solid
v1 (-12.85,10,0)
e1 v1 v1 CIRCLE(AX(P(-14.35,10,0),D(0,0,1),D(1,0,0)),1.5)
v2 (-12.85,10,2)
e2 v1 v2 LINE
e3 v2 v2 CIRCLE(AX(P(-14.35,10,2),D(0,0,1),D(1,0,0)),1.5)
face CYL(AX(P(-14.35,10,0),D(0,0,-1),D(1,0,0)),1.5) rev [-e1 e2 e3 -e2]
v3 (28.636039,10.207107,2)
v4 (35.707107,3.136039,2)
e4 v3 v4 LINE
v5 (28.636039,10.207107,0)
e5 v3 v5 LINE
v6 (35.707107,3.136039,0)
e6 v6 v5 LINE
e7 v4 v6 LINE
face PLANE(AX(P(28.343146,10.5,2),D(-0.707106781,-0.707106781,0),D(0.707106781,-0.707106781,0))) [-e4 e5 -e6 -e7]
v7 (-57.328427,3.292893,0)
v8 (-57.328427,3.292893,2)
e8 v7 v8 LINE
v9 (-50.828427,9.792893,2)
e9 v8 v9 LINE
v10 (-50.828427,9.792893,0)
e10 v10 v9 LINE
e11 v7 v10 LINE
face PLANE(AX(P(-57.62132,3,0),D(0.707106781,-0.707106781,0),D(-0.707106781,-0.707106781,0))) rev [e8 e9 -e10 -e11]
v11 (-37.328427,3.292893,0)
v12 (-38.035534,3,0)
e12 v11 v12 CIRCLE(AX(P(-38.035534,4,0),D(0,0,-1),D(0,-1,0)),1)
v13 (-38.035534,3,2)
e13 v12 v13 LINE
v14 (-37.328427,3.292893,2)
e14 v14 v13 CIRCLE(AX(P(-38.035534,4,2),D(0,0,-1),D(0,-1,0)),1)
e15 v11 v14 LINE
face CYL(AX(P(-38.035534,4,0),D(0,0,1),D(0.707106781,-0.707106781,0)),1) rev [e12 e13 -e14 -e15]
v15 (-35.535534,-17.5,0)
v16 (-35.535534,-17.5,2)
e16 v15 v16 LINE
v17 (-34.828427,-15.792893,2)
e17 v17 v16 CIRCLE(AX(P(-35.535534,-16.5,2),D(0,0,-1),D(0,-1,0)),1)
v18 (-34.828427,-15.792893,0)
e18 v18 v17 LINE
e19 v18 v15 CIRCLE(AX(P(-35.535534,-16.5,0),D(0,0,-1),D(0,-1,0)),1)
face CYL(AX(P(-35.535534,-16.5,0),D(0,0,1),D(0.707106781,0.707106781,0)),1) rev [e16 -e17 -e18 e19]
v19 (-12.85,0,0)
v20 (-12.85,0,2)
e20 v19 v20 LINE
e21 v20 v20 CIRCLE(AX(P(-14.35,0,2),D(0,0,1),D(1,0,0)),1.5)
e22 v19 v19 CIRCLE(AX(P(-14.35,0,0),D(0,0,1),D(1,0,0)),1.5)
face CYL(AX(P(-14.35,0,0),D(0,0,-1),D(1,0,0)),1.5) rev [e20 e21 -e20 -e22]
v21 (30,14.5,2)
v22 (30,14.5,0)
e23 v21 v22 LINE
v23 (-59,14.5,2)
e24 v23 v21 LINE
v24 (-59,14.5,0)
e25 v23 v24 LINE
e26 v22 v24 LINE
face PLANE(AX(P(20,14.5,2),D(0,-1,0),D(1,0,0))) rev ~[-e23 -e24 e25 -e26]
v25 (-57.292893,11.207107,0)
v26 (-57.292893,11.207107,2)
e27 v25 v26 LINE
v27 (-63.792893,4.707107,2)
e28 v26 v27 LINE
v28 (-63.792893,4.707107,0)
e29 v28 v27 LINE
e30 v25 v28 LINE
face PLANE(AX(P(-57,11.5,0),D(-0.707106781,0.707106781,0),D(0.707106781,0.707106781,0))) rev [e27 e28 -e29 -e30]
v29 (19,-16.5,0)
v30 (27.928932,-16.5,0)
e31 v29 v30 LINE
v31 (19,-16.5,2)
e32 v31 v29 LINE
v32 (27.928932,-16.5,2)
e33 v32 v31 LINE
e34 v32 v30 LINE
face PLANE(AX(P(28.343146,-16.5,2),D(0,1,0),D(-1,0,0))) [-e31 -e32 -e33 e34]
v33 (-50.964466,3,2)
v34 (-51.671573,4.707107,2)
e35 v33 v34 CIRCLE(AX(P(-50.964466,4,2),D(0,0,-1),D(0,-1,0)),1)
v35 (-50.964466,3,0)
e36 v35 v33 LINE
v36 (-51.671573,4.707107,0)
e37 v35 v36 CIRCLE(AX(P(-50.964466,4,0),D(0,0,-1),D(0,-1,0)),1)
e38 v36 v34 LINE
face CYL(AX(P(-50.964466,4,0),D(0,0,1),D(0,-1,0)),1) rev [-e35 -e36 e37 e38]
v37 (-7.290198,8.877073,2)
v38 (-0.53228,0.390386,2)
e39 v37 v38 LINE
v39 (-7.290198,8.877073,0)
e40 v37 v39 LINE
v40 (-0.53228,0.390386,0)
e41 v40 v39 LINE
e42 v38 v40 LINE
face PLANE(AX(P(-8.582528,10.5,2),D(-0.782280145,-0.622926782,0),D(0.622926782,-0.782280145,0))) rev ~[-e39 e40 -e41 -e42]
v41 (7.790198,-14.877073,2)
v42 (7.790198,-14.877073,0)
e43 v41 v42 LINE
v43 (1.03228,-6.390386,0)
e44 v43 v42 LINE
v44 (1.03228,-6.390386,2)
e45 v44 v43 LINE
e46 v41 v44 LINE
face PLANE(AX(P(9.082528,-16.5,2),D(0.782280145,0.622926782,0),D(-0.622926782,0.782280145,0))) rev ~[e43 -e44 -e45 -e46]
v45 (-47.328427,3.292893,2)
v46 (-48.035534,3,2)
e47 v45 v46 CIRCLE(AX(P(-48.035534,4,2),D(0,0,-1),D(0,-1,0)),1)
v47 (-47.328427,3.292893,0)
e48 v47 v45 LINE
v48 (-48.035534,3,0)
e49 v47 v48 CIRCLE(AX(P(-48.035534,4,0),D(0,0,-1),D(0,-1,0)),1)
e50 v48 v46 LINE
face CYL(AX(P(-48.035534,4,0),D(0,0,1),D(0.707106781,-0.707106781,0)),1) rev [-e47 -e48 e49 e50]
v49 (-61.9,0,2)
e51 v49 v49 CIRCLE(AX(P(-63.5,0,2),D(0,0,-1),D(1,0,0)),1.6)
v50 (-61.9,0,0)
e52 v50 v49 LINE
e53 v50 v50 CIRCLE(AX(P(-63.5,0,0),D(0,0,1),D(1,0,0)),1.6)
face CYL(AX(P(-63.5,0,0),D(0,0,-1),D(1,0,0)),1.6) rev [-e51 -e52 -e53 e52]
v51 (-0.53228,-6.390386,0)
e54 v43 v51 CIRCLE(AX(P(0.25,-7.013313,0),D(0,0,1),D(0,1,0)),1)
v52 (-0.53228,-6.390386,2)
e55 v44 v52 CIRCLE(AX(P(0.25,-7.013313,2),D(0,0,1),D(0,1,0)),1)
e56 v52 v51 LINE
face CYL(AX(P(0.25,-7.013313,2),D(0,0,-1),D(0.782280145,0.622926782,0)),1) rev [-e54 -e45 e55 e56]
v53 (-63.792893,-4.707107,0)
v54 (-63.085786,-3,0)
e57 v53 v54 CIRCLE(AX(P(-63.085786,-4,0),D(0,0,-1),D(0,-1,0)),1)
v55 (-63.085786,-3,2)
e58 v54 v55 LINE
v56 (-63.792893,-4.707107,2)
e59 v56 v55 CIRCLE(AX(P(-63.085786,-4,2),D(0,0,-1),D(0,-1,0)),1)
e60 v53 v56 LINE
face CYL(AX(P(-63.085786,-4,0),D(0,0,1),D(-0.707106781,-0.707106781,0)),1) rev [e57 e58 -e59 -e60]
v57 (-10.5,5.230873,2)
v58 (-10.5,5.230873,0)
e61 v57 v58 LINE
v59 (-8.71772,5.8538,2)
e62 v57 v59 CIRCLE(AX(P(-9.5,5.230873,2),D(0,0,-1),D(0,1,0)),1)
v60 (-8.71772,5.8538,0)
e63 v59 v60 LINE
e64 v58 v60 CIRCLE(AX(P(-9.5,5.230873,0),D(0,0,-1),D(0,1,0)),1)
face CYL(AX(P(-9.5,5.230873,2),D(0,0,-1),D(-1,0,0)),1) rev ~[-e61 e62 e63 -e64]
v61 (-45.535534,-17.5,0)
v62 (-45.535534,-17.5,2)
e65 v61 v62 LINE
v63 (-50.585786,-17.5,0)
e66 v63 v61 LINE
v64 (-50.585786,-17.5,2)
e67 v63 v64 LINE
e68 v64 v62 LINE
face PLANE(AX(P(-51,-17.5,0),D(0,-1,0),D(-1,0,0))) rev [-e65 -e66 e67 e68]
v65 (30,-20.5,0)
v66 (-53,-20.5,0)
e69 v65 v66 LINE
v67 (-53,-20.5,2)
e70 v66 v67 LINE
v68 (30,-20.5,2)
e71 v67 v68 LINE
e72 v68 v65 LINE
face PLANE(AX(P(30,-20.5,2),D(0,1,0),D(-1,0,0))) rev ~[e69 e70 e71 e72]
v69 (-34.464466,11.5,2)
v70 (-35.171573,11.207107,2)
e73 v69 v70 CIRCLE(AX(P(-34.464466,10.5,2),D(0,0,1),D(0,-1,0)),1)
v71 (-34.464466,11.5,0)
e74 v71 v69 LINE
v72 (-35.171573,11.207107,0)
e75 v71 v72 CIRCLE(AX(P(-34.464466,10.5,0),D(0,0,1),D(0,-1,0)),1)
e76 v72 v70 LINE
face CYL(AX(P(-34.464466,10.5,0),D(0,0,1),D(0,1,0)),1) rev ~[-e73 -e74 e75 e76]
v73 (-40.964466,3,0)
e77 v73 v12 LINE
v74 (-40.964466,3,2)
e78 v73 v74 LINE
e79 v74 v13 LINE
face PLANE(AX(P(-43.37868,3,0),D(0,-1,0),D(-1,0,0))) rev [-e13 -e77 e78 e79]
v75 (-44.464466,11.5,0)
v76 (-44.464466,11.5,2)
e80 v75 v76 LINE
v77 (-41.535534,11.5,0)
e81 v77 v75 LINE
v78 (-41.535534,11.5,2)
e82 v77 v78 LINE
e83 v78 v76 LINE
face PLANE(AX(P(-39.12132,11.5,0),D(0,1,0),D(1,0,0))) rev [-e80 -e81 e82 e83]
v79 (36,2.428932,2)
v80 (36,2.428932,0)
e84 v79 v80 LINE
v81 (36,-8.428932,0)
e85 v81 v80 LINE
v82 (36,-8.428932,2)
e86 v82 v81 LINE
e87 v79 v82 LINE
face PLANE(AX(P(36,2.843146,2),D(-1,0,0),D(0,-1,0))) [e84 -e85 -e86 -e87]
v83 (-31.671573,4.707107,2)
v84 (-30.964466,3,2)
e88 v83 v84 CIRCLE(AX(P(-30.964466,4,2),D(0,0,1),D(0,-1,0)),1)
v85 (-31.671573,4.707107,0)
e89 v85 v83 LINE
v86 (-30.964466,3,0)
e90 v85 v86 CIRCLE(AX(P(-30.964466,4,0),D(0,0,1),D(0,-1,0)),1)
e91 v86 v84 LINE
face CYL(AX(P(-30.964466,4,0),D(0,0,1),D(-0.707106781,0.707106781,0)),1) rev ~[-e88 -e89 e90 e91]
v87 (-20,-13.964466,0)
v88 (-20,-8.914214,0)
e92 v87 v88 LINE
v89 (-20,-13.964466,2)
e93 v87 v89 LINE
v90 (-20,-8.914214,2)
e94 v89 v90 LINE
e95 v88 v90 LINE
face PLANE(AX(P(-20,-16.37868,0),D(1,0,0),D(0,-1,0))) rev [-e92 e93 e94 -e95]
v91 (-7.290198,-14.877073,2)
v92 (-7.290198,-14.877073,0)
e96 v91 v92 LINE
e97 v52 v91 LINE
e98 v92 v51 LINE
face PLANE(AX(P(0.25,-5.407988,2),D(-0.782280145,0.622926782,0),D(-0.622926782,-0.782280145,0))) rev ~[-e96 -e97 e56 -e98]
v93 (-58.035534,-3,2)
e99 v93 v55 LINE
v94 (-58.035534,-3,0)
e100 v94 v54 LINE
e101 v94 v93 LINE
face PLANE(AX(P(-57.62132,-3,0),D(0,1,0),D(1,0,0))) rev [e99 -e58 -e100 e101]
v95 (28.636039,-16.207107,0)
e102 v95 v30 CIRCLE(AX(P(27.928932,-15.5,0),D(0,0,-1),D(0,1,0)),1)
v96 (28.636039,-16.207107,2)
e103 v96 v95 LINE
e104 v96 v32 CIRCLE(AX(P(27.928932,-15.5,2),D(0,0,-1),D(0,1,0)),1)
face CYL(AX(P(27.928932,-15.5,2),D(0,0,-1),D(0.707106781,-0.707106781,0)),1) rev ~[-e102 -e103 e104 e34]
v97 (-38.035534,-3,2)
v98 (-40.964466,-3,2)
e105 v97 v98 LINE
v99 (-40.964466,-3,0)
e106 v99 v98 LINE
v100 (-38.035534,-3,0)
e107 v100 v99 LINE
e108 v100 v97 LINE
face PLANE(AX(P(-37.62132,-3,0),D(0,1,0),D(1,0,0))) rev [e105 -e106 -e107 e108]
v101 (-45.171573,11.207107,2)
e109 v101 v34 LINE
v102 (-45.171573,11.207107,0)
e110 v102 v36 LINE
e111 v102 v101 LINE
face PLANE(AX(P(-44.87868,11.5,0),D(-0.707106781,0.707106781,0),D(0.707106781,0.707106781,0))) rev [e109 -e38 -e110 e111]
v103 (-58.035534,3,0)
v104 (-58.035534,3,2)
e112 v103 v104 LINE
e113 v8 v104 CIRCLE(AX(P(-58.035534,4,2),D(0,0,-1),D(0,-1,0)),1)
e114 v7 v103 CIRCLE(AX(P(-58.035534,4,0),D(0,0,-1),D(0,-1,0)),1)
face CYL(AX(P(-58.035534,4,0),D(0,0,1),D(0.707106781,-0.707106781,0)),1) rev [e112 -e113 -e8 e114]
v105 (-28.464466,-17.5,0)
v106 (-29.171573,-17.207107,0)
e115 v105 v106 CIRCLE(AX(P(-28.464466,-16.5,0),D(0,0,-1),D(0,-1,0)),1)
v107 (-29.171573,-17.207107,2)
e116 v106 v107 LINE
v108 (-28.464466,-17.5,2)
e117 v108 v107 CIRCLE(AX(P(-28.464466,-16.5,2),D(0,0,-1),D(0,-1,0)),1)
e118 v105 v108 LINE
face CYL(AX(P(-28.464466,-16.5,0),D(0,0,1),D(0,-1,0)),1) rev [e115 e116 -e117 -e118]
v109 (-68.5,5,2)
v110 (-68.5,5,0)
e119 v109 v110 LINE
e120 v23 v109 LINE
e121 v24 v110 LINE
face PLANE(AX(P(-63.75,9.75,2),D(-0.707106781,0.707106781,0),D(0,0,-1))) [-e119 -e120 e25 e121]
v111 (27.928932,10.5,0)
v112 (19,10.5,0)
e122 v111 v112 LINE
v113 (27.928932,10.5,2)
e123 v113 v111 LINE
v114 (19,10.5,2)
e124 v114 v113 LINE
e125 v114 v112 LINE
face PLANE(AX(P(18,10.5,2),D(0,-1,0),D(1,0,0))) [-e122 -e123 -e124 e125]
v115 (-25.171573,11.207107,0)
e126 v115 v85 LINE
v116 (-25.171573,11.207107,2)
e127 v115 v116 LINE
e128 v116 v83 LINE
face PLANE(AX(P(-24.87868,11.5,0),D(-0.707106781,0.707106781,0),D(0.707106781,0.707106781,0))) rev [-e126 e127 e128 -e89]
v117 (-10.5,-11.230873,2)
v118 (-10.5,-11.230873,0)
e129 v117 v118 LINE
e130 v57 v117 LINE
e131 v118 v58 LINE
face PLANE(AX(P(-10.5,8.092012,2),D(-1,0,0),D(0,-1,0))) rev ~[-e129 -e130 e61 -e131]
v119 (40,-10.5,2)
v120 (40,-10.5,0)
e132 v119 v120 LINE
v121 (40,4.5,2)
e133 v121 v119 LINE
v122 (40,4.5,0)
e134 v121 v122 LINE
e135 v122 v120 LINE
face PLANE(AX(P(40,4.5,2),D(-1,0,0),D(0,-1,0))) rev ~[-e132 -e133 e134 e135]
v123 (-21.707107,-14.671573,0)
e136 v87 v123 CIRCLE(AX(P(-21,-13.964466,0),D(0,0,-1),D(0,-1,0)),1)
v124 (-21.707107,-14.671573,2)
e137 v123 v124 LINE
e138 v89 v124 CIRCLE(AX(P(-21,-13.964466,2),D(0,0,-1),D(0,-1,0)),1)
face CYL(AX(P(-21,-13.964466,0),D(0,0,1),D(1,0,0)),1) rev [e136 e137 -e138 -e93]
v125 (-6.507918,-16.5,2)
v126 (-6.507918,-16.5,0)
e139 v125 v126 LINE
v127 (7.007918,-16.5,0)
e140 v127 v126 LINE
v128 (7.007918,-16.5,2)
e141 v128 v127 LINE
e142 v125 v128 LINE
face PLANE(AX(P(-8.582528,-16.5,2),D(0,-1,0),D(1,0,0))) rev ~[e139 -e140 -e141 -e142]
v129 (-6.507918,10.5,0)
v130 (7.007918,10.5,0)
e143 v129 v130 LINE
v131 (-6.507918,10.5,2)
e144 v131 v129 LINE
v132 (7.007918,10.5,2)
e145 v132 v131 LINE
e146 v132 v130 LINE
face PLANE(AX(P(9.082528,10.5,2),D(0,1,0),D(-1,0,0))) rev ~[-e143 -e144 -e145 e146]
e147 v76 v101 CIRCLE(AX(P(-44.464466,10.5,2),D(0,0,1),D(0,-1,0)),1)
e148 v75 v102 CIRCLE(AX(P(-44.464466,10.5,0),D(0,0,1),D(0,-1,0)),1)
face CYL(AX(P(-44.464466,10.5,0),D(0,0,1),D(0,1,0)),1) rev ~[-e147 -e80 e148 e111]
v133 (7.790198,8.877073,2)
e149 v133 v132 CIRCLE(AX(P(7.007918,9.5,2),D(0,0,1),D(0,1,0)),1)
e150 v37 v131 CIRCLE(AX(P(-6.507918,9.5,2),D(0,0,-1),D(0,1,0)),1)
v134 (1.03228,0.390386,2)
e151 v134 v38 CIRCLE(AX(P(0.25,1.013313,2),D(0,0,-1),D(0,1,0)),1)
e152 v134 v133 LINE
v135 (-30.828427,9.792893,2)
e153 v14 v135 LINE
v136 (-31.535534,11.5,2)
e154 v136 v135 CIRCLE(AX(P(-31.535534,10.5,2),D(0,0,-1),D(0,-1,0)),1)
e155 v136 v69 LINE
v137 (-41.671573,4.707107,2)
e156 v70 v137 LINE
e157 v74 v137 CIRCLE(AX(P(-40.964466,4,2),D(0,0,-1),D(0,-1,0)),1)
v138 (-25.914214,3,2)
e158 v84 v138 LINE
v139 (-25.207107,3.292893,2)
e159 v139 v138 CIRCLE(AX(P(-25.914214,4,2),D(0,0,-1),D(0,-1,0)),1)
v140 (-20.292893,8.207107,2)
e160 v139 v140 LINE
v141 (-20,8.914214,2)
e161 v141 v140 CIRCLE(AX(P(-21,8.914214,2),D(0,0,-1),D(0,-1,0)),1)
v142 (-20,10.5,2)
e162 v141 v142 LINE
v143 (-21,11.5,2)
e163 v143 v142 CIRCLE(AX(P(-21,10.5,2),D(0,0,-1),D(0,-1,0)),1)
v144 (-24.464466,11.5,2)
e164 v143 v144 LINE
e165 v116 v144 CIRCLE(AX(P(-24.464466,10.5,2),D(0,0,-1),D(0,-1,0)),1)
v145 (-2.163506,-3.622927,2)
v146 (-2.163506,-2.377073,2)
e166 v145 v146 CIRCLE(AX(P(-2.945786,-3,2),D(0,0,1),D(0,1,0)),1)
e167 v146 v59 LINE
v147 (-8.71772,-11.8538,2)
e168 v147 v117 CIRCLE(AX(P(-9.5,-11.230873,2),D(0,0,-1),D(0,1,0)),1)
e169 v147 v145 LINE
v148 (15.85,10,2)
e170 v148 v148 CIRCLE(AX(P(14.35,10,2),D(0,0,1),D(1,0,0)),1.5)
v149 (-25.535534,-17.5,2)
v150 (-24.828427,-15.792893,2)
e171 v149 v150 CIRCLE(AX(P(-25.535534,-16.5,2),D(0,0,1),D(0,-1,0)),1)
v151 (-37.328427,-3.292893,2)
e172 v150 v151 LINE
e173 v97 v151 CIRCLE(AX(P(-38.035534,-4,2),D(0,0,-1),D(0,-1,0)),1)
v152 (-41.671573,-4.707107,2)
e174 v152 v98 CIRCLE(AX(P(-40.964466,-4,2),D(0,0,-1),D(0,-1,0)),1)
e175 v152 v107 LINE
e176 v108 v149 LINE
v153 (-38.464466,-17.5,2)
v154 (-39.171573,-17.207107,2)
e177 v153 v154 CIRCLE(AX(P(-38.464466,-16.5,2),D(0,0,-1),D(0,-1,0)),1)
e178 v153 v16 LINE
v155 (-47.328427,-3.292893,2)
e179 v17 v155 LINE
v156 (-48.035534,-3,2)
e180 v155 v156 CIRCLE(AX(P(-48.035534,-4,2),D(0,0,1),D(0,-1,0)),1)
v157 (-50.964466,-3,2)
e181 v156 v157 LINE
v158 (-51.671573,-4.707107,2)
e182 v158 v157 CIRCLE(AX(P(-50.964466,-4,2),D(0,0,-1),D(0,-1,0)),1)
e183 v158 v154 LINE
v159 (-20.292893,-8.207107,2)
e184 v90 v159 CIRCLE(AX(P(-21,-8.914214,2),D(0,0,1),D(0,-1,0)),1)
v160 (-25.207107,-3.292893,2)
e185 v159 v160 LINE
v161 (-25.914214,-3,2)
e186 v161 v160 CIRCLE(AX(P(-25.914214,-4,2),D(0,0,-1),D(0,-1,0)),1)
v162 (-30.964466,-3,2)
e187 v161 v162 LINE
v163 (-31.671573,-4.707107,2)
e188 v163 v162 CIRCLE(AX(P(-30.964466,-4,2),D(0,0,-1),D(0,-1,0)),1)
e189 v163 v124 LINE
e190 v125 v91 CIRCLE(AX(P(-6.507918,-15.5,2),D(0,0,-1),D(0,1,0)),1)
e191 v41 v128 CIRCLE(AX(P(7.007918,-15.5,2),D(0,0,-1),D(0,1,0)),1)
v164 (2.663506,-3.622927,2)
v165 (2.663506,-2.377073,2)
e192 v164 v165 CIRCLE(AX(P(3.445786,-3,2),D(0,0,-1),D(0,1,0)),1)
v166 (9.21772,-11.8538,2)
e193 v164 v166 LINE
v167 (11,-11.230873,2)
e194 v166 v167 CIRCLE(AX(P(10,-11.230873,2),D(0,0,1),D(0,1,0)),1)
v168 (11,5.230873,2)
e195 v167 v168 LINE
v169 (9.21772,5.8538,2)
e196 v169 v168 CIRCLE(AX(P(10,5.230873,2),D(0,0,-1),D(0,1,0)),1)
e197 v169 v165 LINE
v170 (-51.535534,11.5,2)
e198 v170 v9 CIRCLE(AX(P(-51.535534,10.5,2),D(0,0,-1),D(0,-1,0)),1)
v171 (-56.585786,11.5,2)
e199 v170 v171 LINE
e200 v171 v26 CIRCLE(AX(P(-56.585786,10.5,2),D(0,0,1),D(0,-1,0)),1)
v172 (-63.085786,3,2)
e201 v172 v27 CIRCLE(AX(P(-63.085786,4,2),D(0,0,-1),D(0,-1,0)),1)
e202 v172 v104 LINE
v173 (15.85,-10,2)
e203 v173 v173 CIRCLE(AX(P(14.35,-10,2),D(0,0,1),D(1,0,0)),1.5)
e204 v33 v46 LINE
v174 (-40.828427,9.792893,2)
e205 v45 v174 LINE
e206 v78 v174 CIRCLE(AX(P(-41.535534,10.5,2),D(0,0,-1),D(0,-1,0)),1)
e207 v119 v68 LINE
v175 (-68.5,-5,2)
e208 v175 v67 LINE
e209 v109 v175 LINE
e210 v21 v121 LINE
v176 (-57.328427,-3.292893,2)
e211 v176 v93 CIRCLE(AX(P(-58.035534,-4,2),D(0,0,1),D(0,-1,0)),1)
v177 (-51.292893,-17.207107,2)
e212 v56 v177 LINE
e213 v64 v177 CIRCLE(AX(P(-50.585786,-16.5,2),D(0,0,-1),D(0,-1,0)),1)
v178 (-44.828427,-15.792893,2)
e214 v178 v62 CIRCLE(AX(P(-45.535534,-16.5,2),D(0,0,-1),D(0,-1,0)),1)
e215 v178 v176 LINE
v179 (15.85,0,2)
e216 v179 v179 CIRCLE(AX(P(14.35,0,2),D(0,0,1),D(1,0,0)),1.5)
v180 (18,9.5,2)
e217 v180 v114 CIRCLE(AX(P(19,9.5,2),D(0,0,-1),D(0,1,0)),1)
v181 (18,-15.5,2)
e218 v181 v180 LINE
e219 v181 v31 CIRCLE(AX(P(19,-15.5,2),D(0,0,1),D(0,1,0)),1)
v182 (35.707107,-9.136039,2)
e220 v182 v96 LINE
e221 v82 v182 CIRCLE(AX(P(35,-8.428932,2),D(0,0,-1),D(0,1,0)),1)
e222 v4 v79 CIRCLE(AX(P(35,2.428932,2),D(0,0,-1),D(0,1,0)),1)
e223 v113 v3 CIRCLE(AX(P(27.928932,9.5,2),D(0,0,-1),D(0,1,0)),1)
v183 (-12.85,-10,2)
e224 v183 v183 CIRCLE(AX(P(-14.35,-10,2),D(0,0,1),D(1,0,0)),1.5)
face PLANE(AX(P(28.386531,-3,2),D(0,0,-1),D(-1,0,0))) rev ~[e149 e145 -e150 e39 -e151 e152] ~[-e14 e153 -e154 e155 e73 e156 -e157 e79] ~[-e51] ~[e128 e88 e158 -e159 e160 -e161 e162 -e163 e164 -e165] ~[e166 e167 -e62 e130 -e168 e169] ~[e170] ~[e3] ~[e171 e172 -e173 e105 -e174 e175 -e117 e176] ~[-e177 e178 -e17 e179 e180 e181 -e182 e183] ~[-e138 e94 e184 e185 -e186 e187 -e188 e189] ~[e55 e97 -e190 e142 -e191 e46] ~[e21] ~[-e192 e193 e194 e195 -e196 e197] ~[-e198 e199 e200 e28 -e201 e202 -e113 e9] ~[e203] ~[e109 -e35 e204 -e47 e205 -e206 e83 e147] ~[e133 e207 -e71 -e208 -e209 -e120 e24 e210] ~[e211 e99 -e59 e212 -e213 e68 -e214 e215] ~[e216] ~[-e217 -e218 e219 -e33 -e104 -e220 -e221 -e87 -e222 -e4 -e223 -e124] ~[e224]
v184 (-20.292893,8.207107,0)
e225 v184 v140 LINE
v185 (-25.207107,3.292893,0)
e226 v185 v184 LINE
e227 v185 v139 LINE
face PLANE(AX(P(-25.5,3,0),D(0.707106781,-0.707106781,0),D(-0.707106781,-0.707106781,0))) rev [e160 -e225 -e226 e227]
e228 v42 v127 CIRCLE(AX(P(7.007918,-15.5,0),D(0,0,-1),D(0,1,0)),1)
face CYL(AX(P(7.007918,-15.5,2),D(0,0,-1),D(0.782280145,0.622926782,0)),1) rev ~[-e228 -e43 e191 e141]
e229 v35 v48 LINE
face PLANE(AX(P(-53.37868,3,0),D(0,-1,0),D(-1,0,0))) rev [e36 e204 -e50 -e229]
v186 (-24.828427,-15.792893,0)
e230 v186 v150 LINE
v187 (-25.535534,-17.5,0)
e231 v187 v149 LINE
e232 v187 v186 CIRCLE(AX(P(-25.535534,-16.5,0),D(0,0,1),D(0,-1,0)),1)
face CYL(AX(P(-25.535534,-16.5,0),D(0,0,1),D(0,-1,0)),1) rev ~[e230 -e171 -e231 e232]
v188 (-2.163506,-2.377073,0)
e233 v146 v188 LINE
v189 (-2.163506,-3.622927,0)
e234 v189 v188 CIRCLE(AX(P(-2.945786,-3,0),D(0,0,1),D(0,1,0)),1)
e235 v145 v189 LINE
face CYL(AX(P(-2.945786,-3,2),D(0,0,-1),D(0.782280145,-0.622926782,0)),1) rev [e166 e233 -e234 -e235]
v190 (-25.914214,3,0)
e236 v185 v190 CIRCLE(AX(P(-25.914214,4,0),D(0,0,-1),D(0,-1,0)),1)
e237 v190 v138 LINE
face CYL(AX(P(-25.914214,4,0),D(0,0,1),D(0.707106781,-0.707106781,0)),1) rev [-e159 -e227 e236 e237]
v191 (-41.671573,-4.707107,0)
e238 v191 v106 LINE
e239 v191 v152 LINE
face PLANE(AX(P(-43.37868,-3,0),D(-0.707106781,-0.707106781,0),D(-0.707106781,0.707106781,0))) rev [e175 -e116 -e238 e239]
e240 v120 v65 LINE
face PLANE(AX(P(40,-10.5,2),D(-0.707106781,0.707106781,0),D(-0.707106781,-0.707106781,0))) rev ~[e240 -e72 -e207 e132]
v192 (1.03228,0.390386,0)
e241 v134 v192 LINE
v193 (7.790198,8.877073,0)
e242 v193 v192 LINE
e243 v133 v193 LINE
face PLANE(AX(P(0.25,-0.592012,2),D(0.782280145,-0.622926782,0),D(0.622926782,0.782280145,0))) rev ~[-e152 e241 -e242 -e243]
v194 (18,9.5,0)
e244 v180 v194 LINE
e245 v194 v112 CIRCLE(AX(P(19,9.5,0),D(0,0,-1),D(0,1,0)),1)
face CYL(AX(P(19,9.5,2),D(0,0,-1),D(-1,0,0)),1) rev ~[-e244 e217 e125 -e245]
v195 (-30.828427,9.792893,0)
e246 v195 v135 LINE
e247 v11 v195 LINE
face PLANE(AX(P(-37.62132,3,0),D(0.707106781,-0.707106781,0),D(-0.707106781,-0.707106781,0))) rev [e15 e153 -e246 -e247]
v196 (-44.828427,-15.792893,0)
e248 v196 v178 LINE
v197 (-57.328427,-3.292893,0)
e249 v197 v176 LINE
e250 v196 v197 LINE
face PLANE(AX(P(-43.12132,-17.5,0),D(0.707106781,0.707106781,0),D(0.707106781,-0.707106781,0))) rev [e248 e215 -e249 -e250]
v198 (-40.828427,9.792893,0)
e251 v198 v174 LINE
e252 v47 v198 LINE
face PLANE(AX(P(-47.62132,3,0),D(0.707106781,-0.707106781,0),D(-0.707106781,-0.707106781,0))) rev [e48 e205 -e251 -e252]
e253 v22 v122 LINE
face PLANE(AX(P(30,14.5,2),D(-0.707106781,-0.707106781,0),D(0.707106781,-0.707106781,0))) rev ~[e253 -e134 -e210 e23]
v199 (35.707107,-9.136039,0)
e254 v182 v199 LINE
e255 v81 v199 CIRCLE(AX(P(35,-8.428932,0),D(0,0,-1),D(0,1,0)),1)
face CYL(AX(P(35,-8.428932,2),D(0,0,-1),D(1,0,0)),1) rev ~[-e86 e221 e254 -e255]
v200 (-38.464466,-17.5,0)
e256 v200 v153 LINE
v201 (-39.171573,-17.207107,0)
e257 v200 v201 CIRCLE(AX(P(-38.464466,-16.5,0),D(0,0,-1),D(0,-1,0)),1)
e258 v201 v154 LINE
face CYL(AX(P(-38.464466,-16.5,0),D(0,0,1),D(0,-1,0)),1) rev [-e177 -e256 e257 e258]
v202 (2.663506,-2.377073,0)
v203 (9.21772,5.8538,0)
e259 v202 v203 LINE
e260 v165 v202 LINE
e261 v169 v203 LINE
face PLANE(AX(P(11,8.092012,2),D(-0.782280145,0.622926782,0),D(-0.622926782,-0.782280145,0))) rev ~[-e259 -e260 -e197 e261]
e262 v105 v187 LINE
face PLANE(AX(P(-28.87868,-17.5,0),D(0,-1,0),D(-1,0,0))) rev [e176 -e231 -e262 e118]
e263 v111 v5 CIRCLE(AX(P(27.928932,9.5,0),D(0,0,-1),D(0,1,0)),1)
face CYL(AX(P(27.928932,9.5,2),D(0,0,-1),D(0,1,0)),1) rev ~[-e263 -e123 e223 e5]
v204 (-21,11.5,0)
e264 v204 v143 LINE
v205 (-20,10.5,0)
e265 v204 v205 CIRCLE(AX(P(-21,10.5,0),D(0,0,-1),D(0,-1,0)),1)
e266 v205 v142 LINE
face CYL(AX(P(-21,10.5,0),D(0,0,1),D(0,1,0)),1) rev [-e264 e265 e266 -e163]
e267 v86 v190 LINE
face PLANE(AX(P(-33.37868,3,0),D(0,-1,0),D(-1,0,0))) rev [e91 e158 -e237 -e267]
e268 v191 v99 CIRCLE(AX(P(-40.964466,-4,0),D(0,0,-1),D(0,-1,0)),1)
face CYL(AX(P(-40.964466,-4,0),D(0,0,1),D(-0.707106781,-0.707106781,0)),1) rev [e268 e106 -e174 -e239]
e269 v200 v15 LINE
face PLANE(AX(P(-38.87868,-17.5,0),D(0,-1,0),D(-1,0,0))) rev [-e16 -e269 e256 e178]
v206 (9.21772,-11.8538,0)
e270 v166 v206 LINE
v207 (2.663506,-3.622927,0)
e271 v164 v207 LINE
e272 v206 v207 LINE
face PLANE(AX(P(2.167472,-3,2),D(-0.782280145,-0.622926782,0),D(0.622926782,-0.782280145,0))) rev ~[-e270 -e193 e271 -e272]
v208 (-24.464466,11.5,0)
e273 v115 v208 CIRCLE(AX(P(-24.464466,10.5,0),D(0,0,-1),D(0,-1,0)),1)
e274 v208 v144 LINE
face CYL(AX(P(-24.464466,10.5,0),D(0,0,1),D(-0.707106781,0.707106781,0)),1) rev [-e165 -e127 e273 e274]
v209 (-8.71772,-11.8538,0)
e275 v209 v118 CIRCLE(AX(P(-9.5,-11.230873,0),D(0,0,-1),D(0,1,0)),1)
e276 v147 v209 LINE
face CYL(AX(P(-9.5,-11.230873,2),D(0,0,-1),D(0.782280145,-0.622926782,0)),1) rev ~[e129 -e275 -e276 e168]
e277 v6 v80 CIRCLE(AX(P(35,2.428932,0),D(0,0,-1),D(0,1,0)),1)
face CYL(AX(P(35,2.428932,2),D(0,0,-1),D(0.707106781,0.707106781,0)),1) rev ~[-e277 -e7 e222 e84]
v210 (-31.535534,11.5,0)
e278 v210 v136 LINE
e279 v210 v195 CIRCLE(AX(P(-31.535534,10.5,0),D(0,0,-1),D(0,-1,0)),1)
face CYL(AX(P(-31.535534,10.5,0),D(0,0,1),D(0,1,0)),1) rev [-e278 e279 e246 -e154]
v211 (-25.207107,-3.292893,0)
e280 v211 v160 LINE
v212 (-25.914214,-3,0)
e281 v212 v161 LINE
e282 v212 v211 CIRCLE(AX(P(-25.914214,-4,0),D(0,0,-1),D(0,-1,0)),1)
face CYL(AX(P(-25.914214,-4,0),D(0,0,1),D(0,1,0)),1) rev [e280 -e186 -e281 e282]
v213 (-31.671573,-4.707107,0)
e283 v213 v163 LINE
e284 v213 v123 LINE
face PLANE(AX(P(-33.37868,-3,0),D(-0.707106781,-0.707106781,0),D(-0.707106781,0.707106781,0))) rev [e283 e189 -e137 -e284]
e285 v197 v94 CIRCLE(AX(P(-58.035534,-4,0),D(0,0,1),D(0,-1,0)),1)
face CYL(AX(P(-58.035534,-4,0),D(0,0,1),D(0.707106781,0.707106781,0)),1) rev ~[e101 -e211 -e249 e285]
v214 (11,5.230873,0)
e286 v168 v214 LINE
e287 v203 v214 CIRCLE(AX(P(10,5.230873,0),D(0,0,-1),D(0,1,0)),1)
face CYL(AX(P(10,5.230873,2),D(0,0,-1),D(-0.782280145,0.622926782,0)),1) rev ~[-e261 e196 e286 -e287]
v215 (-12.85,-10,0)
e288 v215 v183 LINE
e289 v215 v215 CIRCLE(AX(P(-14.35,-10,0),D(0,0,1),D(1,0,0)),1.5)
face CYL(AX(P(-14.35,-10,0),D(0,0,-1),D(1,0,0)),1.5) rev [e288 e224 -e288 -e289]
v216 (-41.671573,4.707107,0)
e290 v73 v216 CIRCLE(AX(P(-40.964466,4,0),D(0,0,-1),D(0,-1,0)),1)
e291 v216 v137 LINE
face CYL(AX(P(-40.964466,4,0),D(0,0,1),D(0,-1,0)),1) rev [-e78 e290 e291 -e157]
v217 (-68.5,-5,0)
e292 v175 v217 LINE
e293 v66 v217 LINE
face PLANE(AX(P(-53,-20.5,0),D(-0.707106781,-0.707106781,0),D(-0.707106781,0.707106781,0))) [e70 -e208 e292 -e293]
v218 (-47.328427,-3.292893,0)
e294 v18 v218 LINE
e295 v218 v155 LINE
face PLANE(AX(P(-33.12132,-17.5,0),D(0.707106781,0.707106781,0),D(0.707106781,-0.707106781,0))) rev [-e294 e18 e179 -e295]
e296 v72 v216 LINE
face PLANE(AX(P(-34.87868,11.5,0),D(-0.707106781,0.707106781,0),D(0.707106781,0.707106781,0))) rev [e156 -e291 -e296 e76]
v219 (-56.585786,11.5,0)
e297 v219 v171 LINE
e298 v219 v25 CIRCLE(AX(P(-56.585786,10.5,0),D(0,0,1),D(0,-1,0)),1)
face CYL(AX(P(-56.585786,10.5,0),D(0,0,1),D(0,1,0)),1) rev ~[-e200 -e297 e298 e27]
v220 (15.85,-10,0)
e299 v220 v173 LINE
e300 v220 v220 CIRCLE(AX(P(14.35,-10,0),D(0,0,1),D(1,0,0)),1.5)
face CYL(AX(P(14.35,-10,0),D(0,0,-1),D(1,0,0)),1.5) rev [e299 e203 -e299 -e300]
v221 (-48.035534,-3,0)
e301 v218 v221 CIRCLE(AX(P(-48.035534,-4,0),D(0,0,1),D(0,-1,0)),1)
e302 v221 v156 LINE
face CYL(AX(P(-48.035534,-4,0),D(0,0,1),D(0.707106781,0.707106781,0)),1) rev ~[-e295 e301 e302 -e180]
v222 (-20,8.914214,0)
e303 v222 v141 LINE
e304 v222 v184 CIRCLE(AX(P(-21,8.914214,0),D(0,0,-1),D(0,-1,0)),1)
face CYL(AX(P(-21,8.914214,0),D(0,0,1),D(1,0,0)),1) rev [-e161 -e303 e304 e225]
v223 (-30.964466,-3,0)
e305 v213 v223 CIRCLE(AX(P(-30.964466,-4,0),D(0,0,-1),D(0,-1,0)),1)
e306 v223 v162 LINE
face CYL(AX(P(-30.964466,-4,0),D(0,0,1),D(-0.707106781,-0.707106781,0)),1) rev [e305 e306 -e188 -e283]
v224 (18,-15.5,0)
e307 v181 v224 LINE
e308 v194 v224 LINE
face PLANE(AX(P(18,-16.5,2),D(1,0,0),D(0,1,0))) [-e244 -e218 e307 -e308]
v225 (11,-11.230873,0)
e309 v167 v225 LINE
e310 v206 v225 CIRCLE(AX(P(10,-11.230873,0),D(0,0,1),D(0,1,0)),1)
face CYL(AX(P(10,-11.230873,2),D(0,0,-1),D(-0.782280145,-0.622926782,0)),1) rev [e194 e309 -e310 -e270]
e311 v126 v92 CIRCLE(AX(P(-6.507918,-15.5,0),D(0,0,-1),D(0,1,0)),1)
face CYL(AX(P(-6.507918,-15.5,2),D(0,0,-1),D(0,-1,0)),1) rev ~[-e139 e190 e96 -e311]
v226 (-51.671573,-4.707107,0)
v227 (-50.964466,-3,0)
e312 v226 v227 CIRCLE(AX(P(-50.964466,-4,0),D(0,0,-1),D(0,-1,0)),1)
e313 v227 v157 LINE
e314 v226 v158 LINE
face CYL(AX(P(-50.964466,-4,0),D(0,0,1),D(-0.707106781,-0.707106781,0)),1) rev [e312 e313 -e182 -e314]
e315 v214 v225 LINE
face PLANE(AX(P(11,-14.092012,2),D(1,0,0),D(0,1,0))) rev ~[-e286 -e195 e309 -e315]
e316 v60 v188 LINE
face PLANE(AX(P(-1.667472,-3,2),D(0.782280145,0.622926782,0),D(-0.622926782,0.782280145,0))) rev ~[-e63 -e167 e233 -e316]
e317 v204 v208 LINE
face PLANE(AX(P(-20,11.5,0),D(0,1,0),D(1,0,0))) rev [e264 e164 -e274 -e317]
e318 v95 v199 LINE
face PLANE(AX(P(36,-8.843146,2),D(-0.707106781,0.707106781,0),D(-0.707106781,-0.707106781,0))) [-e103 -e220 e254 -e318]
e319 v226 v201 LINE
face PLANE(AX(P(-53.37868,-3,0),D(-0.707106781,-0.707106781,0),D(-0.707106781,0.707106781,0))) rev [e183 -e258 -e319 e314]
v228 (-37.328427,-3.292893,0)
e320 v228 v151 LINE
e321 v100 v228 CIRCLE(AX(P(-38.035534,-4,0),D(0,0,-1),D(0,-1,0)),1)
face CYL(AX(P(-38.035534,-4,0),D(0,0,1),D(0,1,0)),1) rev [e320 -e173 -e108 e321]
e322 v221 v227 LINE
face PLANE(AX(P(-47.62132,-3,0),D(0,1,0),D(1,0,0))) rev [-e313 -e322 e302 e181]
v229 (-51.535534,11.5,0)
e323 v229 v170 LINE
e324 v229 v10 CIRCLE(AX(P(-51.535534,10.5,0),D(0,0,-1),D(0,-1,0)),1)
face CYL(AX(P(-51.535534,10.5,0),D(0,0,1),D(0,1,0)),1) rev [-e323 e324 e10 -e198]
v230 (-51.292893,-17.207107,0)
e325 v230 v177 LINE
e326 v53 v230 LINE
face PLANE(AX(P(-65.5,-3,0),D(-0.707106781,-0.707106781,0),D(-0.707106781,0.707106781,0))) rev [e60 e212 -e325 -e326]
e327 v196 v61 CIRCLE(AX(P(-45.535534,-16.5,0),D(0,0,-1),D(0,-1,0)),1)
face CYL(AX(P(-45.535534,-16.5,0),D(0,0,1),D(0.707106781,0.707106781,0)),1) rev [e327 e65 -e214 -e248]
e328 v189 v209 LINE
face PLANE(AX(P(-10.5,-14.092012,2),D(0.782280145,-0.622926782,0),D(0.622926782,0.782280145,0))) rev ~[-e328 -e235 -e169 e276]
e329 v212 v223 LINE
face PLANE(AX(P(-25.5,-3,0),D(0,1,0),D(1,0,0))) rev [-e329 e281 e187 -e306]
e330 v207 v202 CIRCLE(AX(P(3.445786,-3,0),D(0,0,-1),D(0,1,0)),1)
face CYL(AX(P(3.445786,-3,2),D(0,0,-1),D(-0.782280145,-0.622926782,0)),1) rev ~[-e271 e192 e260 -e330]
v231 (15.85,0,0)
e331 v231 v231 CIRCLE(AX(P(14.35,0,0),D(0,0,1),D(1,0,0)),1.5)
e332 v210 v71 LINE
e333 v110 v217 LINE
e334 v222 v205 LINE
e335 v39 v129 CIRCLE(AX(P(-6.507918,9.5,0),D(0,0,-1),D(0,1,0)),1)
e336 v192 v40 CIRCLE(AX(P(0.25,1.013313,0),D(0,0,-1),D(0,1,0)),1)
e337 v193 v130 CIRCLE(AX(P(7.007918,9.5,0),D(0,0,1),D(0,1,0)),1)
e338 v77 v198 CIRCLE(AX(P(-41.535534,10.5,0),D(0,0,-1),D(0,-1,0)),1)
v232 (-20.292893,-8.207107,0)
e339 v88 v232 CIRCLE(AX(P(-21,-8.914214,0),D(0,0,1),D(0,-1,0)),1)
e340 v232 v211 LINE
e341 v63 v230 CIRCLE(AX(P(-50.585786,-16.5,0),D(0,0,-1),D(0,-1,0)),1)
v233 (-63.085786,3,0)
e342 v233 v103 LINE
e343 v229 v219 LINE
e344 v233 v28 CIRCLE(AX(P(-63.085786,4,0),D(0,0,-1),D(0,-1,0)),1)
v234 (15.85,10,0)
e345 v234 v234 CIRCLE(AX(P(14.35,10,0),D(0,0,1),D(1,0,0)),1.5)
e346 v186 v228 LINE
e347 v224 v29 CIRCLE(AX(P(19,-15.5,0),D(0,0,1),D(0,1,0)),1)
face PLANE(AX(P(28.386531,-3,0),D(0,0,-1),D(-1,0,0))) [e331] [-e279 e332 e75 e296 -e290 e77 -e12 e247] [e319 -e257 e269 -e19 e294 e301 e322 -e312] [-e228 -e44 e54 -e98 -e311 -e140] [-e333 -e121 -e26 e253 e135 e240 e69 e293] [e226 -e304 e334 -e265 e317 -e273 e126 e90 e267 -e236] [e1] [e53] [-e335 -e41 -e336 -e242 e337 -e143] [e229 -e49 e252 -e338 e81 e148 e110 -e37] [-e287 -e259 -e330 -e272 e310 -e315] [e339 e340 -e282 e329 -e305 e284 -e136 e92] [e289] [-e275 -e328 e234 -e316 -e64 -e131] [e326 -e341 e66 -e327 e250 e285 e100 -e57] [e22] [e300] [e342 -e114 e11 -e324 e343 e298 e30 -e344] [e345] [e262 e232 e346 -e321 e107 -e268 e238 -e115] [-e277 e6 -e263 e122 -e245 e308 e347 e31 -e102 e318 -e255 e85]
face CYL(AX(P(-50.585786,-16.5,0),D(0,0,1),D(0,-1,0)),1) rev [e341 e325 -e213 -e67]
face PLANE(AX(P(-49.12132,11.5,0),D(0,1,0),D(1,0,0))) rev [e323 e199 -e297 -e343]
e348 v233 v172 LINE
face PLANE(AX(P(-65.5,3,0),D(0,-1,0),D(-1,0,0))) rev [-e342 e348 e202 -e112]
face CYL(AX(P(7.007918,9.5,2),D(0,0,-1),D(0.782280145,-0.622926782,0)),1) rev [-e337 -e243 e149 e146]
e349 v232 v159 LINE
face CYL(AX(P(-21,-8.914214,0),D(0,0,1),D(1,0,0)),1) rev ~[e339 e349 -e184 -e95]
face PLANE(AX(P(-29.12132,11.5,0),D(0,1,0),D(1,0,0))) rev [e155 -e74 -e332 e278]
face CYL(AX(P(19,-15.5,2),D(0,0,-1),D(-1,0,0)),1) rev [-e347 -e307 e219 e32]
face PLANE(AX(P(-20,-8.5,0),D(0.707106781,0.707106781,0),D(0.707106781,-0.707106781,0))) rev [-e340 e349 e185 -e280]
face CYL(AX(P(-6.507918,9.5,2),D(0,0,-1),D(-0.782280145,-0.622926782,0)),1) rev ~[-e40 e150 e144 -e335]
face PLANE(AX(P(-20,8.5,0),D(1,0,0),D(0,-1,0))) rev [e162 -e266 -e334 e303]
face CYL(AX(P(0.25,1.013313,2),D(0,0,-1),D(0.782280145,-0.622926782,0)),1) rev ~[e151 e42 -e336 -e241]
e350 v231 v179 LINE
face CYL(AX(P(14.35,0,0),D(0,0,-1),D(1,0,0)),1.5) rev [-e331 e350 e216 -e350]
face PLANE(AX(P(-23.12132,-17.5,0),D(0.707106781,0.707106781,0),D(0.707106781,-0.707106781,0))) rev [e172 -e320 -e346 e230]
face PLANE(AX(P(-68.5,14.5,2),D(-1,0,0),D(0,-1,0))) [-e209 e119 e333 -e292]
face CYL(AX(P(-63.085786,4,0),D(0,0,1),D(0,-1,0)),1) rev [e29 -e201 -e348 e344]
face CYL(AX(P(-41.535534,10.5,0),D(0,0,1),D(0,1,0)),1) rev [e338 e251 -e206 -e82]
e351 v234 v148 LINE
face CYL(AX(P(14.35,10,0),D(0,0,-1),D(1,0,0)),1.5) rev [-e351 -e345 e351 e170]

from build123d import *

# Parameters (mm, degrees)
SKETCH_1_W             = 32.7
SKETCH_1_H             = 29
SKETCH_1_R             = 1.5
EXTRUDE_1_DEPTH        = 2
CHAMFER_1_SIZE         = 3
EXTRUDE_2_DEPTH        = 2
CHAMFER_2_SIZE         = 9.5
EXTRUDE_3_DEPTH        = 2
SKETCH_6_R             = 1.6
CUT_EXTRUDE_2_DEPTH    = 72.529714105
CUT_EXTRUDE_4_DEPTH    = 10
FILLET_2_R             = 1
FILLET_2_OF_MIRROR_1_R = 1
SKETCH_8_W             = 55
SKETCH_8_H             = 35
CUT_EXTRUDE_5_DEPTH    = 72.529714105
EXTRUDE_4_DEPTH        = 2
CUT_EXTRUDE_6_DEPTH    = 72.529714105
FILLET_4_R             = 1


with BuildPart() as part:
    # 草图1 → 凸台-拉伸1 (new body)
    with BuildSketch(Plane.XY):
        Rectangle(SKETCH_1_W, SKETCH_1_H)
        with Locations((-14.35, -10)):
            Circle(SKETCH_1_R, mode=Mode.SUBTRACT)
        with Locations((-14.35, 10)):
            Circle(SKETCH_1_R, mode=Mode.SUBTRACT)
        with Locations((14.35, 10)):
            Circle(SKETCH_1_R, mode=Mode.SUBTRACT)
        with Locations((14.35, -10)):
            Circle(SKETCH_1_R, mode=Mode.SUBTRACT)
        with Locations((-14.35, 0)):
            Circle(SKETCH_1_R, mode=Mode.SUBTRACT)
        with Locations((14.35, 0)):
            Circle(SKETCH_1_R, mode=Mode.SUBTRACT)
    extrude(amount=EXTRUDE_1_DEPTH)

    # 倒角1
    chamfer_1_edges = [part.edges().sort_by_distance(p)[0] for p in [
        (16.35, -14.5, 1),
        (-16.35, -14.5, 1),
        (-16.35, 14.5, 1),
        (16.35, 14.5, 1),
    ]]
    chamfer(chamfer_1_edges, length=CHAMFER_1_SIZE)

    # 草图3 → 凸台-拉伸2 (add)
    with BuildSketch(Plane.XY.offset(2)):
        Polygon((-13.35, 14.5), (-68.5, 14.5), (-68.5, -14.5), (-13.35, -14.5), (-16.35, -11.5), (-16.35, 11.5), align=None)
        Polygon((68.5, 14.5), (13.35, 14.5), (16.35, 11.5), (16.35, -11.5), (13.35, -14.5), (68.5, -14.5), align=None)
    extrude(amount=-EXTRUDE_2_DEPTH)

    # 倒角2
    chamfer_2_edges = [part.edges().sort_by_distance(p)[0] for p in [
        (-68.5, -14.5, 1),
        (-68.5, 14.5, 1),
        (68.5, -14.5, 1),
        (68.5, 14.5, 1),
    ]]
    chamfer(chamfer_2_edges, length=CHAMFER_2_SIZE)

    # 草图4 → 凸台-拉伸3 (add)
    with BuildSketch(Plane(origin=(0, 0, 0), x_dir=(-1, 0, 0), z_dir=(0, 0, -1))):
        Polygon((-59, -14.5), (-53, -20.5), (53, -20.5), (59, -14.5), align=None)
    extrude(amount=-EXTRUDE_3_DEPTH)

    # 草图6 → 切除-拉伸2 (cut, through all)
    with BuildSketch(Plane(origin=(0, 0, 0), x_dir=(-1, 0, 0), z_dir=(0, 0, -1))):
        with Locations((-63.5, 0)):
            Circle(SKETCH_6_R)
    cut_extrude_2 = extrude(amount=-CUT_EXTRUDE_2_DEPTH, mode=Mode.SUBTRACT)

    # 草图7 → 切除-拉伸4 (cut)
    with BuildSketch(Plane(origin=(0, 0, 0), x_dir=(-1, 0, 0), z_dir=(0, 0, -1))):
        Polygon((-57, 11.5), (-65.5, 3), (-57.621320344, 3), (-49.121320344, 11.5), align=None)
        Polygon((-57.621320344, -3), (-65.5, -3), (-51, -17.5), (-43.121320344, -17.5), align=None)
        Polygon((-47.621320344, -3), (-53.378679656, -3), (-38.878679656, -17.5), (-33.121320344, -17.5), align=None)
        Polygon((-44.878679656, 11.5), (-53.378679656, 3), (-47.621320344, 3), (-39.121320344, 11.5), align=None)
        Polygon((-34.878679656, 11.5), (-43.378679656, 3), (-37.621320344, 3), (-29.121320344, 11.5), align=None)
        Polygon((-23.121320344, -17.5), (-37.621320344, -3), (-43.378679656, -3), (-28.878679656, -17.5), align=None)
        Polygon((-20, -8.5), (-25.5, -3), (-33.378679656, -3), (-20, -16.378679656), align=None)
        Polygon((-33.378679656, 3), (-25.5, 3), (-20, 8.5), (-20, 11.5), (-23, 11.5), (-24.878679656, 11.5), align=None)
    cut_extrude_4 = extrude(amount=-CUT_EXTRUDE_4_DEPTH, mode=Mode.SUBTRACT)

    # 圆角2
    fillet_2_edges = [part.edges().sort_by_distance(p)[0] for p in [
        (53.378679656, -3, 1),
        (47.621320344, -3, 1),
        (33.121320344, -17.5, 1),
        (38.878679656, -17.5, 1),
        (57.621320344, -3, 1),
        (43.121320344, -17.5, 1),
        (51, -17.5, 1),
        (65.5, -3, 1),
        (37.621320344, 3, 1),
        (43.378679656, 3, 1),
        (34.878679656, 11.5, 1),
        (29.121320344, 11.5, 1),
        (47.621320344, 3, 1),
        (53.378679656, 3, 1),
        (44.878679656, 11.5, 1),
        (39.121320344, 11.5, 1),
        (33.378679656, -3, 1),
        (25.5, -3, 1),
        (20, -8.5, 1),
        (20, -16.378679656, 1),
        (43.378679656, -3, 1),
        (37.621320344, -3, 1),
        (23.121320344, -17.5, 1),
        (28.878679656, -17.5, 1),
        (33.378679656, 3, 1),
        (24.878679656, 11.5, 1),
        (20, 11.5, 1),
        (20, 8.5, 1),
        (25.5, 3, 1),
        (57.621320344, 3, 1),
        (65.5, 3, 1),
        (57, 11.5, 1),
        (49.121320344, 11.5, 1),
    ]]
    fillet(fillet_2_edges, radius=FILLET_2_R)

    # 镜向1: 切除-拉伸2, 切除-拉伸4 across plane
    add(cut_extrude_2.mirror(Plane(origin=(0, 0, 0), x_dir=(0, 0, 1), z_dir=(1, 0, 0))), mode=Mode.SUBTRACT)
    add(cut_extrude_4.mirror(Plane(origin=(0, 0, 0), x_dir=(0, 0, 1), z_dir=(1, 0, 0))), mode=Mode.SUBTRACT)

    # 圆角2 of 镜向1
    fillet_2_of_mirror_1_edges = [part.edges().sort_by_distance(p)[0] for p in [
        (-53.378679656, -3, 1),
        (-47.621320344, -3, 1),
        (-33.121320344, -17.5, 1),
        (-38.878679656, -17.5, 1),
        (-57.621320344, -3, 1),
        (-43.121320344, -17.5, 1),
        (-51, -17.5, 1),
        (-65.5, -3, 1),
        (-37.621320344, 3, 1),
        (-43.378679656, 3, 1),
        (-34.878679656, 11.5, 1),
        (-29.121320344, 11.5, 1),
        (-47.621320344, 3, 1),
        (-53.378679656, 3, 1),
        (-44.878679656, 11.5, 1),
        (-39.121320344, 11.5, 1),
        (-33.378679656, -3, 1),
        (-25.5, -3, 1),
        (-20, -8.5, 1),
        (-20, -16.378679656, 1),
        (-43.378679656, -3, 1),
        (-37.621320344, -3, 1),
        (-23.121320344, -17.5, 1),
        (-28.878679656, -17.5, 1),
        (-33.378679656, 3, 1),
        (-24.878679656, 11.5, 1),
        (-20, 11.5, 1),
        (-20, 8.5, 1),
        (-25.5, 3, 1),
        (-57.621320344, 3, 1),
        (-65.5, 3, 1),
        (-57, 11.5, 1),
        (-49.121320344, 11.5, 1),
    ]]
    fillet(fillet_2_of_mirror_1_edges, radius=FILLET_2_OF_MIRROR_1_R)

    # 草图8 → 切除-拉伸5 (cut, through all)
    with BuildSketch(Plane.XY.offset(2)):
        with Locations((47.5, -3)):
            Rectangle(SKETCH_8_W, SKETCH_8_H)
    extrude(amount=-CUT_EXTRUDE_5_DEPTH, mode=Mode.SUBTRACT)

    # 草图9 → 凸台-拉伸4 (add)
    with BuildSketch(Plane.XY.offset(2)):
        Polygon((20, -20.5), (20, 14.5), (30, 14.5), (40, 4.5), (40, -10.5), (30, -20.5), align=None)
    extrude(amount=-EXTRUDE_4_DEPTH)

    # 草图10 → 切除-拉伸6 (cut, through all)
    with BuildSketch(Plane.XY.offset(2)):
        Polygon((9.082528349, 10.5), (-8.582528349, 10.5), (0.25, -0.592012346), align=None)
        Polygon((11, -14.092012346), (11, 8.092012346), (2.167471651, -3), align=None)
        Polygon((-1.667471651, -3), (-10.5, 8.092012346), (-10.5, -14.092012346), align=None)
        Polygon((0.25, -5.407987654), (-8.582528349, -16.5), (9.082528349, -16.5), align=None)
        Polygon((18, -16.5), (18, 10.5), (28.343145751, 10.5), (36, 2.843145751), (36, -8.843145751), (28.343145751, -16.5), align=None)
    extrude(amount=-CUT_EXTRUDE_6_DEPTH, mode=Mode.SUBTRACT)

    # 圆角4
    fillet_4_edges = [part.edges().sort_by_distance(p)[0] for p in [
        (2.167471651, -3, 1),
        (11, 8.092012346, 1),
        (11, -14.092012346, 1),
        (-10.5, 8.092012346, 1),
        (-1.667471651, -3, 1),
        (-10.5, -14.092012346, 1),
        (0.25, -5.407987654, 1),
        (9.082528349, -16.5, 1),
        (-8.582528349, -16.5, 1),
        (18, -16.5, 1),
        (18, 10.5, 1),
        (28.343145751, 10.5, 1),
        (36, 2.843145751, 1),
        (36, -8.843145751, 1),
        (28.343145751, -16.5, 1),
        (-8.582528349, 10.5, 1),
        (9.082528349, 10.5, 1),
        (0.25, -0.592012346, 1),
    ]]
    fillet(fillet_4_edges, radius=FILLET_4_R)


solid = part.part
